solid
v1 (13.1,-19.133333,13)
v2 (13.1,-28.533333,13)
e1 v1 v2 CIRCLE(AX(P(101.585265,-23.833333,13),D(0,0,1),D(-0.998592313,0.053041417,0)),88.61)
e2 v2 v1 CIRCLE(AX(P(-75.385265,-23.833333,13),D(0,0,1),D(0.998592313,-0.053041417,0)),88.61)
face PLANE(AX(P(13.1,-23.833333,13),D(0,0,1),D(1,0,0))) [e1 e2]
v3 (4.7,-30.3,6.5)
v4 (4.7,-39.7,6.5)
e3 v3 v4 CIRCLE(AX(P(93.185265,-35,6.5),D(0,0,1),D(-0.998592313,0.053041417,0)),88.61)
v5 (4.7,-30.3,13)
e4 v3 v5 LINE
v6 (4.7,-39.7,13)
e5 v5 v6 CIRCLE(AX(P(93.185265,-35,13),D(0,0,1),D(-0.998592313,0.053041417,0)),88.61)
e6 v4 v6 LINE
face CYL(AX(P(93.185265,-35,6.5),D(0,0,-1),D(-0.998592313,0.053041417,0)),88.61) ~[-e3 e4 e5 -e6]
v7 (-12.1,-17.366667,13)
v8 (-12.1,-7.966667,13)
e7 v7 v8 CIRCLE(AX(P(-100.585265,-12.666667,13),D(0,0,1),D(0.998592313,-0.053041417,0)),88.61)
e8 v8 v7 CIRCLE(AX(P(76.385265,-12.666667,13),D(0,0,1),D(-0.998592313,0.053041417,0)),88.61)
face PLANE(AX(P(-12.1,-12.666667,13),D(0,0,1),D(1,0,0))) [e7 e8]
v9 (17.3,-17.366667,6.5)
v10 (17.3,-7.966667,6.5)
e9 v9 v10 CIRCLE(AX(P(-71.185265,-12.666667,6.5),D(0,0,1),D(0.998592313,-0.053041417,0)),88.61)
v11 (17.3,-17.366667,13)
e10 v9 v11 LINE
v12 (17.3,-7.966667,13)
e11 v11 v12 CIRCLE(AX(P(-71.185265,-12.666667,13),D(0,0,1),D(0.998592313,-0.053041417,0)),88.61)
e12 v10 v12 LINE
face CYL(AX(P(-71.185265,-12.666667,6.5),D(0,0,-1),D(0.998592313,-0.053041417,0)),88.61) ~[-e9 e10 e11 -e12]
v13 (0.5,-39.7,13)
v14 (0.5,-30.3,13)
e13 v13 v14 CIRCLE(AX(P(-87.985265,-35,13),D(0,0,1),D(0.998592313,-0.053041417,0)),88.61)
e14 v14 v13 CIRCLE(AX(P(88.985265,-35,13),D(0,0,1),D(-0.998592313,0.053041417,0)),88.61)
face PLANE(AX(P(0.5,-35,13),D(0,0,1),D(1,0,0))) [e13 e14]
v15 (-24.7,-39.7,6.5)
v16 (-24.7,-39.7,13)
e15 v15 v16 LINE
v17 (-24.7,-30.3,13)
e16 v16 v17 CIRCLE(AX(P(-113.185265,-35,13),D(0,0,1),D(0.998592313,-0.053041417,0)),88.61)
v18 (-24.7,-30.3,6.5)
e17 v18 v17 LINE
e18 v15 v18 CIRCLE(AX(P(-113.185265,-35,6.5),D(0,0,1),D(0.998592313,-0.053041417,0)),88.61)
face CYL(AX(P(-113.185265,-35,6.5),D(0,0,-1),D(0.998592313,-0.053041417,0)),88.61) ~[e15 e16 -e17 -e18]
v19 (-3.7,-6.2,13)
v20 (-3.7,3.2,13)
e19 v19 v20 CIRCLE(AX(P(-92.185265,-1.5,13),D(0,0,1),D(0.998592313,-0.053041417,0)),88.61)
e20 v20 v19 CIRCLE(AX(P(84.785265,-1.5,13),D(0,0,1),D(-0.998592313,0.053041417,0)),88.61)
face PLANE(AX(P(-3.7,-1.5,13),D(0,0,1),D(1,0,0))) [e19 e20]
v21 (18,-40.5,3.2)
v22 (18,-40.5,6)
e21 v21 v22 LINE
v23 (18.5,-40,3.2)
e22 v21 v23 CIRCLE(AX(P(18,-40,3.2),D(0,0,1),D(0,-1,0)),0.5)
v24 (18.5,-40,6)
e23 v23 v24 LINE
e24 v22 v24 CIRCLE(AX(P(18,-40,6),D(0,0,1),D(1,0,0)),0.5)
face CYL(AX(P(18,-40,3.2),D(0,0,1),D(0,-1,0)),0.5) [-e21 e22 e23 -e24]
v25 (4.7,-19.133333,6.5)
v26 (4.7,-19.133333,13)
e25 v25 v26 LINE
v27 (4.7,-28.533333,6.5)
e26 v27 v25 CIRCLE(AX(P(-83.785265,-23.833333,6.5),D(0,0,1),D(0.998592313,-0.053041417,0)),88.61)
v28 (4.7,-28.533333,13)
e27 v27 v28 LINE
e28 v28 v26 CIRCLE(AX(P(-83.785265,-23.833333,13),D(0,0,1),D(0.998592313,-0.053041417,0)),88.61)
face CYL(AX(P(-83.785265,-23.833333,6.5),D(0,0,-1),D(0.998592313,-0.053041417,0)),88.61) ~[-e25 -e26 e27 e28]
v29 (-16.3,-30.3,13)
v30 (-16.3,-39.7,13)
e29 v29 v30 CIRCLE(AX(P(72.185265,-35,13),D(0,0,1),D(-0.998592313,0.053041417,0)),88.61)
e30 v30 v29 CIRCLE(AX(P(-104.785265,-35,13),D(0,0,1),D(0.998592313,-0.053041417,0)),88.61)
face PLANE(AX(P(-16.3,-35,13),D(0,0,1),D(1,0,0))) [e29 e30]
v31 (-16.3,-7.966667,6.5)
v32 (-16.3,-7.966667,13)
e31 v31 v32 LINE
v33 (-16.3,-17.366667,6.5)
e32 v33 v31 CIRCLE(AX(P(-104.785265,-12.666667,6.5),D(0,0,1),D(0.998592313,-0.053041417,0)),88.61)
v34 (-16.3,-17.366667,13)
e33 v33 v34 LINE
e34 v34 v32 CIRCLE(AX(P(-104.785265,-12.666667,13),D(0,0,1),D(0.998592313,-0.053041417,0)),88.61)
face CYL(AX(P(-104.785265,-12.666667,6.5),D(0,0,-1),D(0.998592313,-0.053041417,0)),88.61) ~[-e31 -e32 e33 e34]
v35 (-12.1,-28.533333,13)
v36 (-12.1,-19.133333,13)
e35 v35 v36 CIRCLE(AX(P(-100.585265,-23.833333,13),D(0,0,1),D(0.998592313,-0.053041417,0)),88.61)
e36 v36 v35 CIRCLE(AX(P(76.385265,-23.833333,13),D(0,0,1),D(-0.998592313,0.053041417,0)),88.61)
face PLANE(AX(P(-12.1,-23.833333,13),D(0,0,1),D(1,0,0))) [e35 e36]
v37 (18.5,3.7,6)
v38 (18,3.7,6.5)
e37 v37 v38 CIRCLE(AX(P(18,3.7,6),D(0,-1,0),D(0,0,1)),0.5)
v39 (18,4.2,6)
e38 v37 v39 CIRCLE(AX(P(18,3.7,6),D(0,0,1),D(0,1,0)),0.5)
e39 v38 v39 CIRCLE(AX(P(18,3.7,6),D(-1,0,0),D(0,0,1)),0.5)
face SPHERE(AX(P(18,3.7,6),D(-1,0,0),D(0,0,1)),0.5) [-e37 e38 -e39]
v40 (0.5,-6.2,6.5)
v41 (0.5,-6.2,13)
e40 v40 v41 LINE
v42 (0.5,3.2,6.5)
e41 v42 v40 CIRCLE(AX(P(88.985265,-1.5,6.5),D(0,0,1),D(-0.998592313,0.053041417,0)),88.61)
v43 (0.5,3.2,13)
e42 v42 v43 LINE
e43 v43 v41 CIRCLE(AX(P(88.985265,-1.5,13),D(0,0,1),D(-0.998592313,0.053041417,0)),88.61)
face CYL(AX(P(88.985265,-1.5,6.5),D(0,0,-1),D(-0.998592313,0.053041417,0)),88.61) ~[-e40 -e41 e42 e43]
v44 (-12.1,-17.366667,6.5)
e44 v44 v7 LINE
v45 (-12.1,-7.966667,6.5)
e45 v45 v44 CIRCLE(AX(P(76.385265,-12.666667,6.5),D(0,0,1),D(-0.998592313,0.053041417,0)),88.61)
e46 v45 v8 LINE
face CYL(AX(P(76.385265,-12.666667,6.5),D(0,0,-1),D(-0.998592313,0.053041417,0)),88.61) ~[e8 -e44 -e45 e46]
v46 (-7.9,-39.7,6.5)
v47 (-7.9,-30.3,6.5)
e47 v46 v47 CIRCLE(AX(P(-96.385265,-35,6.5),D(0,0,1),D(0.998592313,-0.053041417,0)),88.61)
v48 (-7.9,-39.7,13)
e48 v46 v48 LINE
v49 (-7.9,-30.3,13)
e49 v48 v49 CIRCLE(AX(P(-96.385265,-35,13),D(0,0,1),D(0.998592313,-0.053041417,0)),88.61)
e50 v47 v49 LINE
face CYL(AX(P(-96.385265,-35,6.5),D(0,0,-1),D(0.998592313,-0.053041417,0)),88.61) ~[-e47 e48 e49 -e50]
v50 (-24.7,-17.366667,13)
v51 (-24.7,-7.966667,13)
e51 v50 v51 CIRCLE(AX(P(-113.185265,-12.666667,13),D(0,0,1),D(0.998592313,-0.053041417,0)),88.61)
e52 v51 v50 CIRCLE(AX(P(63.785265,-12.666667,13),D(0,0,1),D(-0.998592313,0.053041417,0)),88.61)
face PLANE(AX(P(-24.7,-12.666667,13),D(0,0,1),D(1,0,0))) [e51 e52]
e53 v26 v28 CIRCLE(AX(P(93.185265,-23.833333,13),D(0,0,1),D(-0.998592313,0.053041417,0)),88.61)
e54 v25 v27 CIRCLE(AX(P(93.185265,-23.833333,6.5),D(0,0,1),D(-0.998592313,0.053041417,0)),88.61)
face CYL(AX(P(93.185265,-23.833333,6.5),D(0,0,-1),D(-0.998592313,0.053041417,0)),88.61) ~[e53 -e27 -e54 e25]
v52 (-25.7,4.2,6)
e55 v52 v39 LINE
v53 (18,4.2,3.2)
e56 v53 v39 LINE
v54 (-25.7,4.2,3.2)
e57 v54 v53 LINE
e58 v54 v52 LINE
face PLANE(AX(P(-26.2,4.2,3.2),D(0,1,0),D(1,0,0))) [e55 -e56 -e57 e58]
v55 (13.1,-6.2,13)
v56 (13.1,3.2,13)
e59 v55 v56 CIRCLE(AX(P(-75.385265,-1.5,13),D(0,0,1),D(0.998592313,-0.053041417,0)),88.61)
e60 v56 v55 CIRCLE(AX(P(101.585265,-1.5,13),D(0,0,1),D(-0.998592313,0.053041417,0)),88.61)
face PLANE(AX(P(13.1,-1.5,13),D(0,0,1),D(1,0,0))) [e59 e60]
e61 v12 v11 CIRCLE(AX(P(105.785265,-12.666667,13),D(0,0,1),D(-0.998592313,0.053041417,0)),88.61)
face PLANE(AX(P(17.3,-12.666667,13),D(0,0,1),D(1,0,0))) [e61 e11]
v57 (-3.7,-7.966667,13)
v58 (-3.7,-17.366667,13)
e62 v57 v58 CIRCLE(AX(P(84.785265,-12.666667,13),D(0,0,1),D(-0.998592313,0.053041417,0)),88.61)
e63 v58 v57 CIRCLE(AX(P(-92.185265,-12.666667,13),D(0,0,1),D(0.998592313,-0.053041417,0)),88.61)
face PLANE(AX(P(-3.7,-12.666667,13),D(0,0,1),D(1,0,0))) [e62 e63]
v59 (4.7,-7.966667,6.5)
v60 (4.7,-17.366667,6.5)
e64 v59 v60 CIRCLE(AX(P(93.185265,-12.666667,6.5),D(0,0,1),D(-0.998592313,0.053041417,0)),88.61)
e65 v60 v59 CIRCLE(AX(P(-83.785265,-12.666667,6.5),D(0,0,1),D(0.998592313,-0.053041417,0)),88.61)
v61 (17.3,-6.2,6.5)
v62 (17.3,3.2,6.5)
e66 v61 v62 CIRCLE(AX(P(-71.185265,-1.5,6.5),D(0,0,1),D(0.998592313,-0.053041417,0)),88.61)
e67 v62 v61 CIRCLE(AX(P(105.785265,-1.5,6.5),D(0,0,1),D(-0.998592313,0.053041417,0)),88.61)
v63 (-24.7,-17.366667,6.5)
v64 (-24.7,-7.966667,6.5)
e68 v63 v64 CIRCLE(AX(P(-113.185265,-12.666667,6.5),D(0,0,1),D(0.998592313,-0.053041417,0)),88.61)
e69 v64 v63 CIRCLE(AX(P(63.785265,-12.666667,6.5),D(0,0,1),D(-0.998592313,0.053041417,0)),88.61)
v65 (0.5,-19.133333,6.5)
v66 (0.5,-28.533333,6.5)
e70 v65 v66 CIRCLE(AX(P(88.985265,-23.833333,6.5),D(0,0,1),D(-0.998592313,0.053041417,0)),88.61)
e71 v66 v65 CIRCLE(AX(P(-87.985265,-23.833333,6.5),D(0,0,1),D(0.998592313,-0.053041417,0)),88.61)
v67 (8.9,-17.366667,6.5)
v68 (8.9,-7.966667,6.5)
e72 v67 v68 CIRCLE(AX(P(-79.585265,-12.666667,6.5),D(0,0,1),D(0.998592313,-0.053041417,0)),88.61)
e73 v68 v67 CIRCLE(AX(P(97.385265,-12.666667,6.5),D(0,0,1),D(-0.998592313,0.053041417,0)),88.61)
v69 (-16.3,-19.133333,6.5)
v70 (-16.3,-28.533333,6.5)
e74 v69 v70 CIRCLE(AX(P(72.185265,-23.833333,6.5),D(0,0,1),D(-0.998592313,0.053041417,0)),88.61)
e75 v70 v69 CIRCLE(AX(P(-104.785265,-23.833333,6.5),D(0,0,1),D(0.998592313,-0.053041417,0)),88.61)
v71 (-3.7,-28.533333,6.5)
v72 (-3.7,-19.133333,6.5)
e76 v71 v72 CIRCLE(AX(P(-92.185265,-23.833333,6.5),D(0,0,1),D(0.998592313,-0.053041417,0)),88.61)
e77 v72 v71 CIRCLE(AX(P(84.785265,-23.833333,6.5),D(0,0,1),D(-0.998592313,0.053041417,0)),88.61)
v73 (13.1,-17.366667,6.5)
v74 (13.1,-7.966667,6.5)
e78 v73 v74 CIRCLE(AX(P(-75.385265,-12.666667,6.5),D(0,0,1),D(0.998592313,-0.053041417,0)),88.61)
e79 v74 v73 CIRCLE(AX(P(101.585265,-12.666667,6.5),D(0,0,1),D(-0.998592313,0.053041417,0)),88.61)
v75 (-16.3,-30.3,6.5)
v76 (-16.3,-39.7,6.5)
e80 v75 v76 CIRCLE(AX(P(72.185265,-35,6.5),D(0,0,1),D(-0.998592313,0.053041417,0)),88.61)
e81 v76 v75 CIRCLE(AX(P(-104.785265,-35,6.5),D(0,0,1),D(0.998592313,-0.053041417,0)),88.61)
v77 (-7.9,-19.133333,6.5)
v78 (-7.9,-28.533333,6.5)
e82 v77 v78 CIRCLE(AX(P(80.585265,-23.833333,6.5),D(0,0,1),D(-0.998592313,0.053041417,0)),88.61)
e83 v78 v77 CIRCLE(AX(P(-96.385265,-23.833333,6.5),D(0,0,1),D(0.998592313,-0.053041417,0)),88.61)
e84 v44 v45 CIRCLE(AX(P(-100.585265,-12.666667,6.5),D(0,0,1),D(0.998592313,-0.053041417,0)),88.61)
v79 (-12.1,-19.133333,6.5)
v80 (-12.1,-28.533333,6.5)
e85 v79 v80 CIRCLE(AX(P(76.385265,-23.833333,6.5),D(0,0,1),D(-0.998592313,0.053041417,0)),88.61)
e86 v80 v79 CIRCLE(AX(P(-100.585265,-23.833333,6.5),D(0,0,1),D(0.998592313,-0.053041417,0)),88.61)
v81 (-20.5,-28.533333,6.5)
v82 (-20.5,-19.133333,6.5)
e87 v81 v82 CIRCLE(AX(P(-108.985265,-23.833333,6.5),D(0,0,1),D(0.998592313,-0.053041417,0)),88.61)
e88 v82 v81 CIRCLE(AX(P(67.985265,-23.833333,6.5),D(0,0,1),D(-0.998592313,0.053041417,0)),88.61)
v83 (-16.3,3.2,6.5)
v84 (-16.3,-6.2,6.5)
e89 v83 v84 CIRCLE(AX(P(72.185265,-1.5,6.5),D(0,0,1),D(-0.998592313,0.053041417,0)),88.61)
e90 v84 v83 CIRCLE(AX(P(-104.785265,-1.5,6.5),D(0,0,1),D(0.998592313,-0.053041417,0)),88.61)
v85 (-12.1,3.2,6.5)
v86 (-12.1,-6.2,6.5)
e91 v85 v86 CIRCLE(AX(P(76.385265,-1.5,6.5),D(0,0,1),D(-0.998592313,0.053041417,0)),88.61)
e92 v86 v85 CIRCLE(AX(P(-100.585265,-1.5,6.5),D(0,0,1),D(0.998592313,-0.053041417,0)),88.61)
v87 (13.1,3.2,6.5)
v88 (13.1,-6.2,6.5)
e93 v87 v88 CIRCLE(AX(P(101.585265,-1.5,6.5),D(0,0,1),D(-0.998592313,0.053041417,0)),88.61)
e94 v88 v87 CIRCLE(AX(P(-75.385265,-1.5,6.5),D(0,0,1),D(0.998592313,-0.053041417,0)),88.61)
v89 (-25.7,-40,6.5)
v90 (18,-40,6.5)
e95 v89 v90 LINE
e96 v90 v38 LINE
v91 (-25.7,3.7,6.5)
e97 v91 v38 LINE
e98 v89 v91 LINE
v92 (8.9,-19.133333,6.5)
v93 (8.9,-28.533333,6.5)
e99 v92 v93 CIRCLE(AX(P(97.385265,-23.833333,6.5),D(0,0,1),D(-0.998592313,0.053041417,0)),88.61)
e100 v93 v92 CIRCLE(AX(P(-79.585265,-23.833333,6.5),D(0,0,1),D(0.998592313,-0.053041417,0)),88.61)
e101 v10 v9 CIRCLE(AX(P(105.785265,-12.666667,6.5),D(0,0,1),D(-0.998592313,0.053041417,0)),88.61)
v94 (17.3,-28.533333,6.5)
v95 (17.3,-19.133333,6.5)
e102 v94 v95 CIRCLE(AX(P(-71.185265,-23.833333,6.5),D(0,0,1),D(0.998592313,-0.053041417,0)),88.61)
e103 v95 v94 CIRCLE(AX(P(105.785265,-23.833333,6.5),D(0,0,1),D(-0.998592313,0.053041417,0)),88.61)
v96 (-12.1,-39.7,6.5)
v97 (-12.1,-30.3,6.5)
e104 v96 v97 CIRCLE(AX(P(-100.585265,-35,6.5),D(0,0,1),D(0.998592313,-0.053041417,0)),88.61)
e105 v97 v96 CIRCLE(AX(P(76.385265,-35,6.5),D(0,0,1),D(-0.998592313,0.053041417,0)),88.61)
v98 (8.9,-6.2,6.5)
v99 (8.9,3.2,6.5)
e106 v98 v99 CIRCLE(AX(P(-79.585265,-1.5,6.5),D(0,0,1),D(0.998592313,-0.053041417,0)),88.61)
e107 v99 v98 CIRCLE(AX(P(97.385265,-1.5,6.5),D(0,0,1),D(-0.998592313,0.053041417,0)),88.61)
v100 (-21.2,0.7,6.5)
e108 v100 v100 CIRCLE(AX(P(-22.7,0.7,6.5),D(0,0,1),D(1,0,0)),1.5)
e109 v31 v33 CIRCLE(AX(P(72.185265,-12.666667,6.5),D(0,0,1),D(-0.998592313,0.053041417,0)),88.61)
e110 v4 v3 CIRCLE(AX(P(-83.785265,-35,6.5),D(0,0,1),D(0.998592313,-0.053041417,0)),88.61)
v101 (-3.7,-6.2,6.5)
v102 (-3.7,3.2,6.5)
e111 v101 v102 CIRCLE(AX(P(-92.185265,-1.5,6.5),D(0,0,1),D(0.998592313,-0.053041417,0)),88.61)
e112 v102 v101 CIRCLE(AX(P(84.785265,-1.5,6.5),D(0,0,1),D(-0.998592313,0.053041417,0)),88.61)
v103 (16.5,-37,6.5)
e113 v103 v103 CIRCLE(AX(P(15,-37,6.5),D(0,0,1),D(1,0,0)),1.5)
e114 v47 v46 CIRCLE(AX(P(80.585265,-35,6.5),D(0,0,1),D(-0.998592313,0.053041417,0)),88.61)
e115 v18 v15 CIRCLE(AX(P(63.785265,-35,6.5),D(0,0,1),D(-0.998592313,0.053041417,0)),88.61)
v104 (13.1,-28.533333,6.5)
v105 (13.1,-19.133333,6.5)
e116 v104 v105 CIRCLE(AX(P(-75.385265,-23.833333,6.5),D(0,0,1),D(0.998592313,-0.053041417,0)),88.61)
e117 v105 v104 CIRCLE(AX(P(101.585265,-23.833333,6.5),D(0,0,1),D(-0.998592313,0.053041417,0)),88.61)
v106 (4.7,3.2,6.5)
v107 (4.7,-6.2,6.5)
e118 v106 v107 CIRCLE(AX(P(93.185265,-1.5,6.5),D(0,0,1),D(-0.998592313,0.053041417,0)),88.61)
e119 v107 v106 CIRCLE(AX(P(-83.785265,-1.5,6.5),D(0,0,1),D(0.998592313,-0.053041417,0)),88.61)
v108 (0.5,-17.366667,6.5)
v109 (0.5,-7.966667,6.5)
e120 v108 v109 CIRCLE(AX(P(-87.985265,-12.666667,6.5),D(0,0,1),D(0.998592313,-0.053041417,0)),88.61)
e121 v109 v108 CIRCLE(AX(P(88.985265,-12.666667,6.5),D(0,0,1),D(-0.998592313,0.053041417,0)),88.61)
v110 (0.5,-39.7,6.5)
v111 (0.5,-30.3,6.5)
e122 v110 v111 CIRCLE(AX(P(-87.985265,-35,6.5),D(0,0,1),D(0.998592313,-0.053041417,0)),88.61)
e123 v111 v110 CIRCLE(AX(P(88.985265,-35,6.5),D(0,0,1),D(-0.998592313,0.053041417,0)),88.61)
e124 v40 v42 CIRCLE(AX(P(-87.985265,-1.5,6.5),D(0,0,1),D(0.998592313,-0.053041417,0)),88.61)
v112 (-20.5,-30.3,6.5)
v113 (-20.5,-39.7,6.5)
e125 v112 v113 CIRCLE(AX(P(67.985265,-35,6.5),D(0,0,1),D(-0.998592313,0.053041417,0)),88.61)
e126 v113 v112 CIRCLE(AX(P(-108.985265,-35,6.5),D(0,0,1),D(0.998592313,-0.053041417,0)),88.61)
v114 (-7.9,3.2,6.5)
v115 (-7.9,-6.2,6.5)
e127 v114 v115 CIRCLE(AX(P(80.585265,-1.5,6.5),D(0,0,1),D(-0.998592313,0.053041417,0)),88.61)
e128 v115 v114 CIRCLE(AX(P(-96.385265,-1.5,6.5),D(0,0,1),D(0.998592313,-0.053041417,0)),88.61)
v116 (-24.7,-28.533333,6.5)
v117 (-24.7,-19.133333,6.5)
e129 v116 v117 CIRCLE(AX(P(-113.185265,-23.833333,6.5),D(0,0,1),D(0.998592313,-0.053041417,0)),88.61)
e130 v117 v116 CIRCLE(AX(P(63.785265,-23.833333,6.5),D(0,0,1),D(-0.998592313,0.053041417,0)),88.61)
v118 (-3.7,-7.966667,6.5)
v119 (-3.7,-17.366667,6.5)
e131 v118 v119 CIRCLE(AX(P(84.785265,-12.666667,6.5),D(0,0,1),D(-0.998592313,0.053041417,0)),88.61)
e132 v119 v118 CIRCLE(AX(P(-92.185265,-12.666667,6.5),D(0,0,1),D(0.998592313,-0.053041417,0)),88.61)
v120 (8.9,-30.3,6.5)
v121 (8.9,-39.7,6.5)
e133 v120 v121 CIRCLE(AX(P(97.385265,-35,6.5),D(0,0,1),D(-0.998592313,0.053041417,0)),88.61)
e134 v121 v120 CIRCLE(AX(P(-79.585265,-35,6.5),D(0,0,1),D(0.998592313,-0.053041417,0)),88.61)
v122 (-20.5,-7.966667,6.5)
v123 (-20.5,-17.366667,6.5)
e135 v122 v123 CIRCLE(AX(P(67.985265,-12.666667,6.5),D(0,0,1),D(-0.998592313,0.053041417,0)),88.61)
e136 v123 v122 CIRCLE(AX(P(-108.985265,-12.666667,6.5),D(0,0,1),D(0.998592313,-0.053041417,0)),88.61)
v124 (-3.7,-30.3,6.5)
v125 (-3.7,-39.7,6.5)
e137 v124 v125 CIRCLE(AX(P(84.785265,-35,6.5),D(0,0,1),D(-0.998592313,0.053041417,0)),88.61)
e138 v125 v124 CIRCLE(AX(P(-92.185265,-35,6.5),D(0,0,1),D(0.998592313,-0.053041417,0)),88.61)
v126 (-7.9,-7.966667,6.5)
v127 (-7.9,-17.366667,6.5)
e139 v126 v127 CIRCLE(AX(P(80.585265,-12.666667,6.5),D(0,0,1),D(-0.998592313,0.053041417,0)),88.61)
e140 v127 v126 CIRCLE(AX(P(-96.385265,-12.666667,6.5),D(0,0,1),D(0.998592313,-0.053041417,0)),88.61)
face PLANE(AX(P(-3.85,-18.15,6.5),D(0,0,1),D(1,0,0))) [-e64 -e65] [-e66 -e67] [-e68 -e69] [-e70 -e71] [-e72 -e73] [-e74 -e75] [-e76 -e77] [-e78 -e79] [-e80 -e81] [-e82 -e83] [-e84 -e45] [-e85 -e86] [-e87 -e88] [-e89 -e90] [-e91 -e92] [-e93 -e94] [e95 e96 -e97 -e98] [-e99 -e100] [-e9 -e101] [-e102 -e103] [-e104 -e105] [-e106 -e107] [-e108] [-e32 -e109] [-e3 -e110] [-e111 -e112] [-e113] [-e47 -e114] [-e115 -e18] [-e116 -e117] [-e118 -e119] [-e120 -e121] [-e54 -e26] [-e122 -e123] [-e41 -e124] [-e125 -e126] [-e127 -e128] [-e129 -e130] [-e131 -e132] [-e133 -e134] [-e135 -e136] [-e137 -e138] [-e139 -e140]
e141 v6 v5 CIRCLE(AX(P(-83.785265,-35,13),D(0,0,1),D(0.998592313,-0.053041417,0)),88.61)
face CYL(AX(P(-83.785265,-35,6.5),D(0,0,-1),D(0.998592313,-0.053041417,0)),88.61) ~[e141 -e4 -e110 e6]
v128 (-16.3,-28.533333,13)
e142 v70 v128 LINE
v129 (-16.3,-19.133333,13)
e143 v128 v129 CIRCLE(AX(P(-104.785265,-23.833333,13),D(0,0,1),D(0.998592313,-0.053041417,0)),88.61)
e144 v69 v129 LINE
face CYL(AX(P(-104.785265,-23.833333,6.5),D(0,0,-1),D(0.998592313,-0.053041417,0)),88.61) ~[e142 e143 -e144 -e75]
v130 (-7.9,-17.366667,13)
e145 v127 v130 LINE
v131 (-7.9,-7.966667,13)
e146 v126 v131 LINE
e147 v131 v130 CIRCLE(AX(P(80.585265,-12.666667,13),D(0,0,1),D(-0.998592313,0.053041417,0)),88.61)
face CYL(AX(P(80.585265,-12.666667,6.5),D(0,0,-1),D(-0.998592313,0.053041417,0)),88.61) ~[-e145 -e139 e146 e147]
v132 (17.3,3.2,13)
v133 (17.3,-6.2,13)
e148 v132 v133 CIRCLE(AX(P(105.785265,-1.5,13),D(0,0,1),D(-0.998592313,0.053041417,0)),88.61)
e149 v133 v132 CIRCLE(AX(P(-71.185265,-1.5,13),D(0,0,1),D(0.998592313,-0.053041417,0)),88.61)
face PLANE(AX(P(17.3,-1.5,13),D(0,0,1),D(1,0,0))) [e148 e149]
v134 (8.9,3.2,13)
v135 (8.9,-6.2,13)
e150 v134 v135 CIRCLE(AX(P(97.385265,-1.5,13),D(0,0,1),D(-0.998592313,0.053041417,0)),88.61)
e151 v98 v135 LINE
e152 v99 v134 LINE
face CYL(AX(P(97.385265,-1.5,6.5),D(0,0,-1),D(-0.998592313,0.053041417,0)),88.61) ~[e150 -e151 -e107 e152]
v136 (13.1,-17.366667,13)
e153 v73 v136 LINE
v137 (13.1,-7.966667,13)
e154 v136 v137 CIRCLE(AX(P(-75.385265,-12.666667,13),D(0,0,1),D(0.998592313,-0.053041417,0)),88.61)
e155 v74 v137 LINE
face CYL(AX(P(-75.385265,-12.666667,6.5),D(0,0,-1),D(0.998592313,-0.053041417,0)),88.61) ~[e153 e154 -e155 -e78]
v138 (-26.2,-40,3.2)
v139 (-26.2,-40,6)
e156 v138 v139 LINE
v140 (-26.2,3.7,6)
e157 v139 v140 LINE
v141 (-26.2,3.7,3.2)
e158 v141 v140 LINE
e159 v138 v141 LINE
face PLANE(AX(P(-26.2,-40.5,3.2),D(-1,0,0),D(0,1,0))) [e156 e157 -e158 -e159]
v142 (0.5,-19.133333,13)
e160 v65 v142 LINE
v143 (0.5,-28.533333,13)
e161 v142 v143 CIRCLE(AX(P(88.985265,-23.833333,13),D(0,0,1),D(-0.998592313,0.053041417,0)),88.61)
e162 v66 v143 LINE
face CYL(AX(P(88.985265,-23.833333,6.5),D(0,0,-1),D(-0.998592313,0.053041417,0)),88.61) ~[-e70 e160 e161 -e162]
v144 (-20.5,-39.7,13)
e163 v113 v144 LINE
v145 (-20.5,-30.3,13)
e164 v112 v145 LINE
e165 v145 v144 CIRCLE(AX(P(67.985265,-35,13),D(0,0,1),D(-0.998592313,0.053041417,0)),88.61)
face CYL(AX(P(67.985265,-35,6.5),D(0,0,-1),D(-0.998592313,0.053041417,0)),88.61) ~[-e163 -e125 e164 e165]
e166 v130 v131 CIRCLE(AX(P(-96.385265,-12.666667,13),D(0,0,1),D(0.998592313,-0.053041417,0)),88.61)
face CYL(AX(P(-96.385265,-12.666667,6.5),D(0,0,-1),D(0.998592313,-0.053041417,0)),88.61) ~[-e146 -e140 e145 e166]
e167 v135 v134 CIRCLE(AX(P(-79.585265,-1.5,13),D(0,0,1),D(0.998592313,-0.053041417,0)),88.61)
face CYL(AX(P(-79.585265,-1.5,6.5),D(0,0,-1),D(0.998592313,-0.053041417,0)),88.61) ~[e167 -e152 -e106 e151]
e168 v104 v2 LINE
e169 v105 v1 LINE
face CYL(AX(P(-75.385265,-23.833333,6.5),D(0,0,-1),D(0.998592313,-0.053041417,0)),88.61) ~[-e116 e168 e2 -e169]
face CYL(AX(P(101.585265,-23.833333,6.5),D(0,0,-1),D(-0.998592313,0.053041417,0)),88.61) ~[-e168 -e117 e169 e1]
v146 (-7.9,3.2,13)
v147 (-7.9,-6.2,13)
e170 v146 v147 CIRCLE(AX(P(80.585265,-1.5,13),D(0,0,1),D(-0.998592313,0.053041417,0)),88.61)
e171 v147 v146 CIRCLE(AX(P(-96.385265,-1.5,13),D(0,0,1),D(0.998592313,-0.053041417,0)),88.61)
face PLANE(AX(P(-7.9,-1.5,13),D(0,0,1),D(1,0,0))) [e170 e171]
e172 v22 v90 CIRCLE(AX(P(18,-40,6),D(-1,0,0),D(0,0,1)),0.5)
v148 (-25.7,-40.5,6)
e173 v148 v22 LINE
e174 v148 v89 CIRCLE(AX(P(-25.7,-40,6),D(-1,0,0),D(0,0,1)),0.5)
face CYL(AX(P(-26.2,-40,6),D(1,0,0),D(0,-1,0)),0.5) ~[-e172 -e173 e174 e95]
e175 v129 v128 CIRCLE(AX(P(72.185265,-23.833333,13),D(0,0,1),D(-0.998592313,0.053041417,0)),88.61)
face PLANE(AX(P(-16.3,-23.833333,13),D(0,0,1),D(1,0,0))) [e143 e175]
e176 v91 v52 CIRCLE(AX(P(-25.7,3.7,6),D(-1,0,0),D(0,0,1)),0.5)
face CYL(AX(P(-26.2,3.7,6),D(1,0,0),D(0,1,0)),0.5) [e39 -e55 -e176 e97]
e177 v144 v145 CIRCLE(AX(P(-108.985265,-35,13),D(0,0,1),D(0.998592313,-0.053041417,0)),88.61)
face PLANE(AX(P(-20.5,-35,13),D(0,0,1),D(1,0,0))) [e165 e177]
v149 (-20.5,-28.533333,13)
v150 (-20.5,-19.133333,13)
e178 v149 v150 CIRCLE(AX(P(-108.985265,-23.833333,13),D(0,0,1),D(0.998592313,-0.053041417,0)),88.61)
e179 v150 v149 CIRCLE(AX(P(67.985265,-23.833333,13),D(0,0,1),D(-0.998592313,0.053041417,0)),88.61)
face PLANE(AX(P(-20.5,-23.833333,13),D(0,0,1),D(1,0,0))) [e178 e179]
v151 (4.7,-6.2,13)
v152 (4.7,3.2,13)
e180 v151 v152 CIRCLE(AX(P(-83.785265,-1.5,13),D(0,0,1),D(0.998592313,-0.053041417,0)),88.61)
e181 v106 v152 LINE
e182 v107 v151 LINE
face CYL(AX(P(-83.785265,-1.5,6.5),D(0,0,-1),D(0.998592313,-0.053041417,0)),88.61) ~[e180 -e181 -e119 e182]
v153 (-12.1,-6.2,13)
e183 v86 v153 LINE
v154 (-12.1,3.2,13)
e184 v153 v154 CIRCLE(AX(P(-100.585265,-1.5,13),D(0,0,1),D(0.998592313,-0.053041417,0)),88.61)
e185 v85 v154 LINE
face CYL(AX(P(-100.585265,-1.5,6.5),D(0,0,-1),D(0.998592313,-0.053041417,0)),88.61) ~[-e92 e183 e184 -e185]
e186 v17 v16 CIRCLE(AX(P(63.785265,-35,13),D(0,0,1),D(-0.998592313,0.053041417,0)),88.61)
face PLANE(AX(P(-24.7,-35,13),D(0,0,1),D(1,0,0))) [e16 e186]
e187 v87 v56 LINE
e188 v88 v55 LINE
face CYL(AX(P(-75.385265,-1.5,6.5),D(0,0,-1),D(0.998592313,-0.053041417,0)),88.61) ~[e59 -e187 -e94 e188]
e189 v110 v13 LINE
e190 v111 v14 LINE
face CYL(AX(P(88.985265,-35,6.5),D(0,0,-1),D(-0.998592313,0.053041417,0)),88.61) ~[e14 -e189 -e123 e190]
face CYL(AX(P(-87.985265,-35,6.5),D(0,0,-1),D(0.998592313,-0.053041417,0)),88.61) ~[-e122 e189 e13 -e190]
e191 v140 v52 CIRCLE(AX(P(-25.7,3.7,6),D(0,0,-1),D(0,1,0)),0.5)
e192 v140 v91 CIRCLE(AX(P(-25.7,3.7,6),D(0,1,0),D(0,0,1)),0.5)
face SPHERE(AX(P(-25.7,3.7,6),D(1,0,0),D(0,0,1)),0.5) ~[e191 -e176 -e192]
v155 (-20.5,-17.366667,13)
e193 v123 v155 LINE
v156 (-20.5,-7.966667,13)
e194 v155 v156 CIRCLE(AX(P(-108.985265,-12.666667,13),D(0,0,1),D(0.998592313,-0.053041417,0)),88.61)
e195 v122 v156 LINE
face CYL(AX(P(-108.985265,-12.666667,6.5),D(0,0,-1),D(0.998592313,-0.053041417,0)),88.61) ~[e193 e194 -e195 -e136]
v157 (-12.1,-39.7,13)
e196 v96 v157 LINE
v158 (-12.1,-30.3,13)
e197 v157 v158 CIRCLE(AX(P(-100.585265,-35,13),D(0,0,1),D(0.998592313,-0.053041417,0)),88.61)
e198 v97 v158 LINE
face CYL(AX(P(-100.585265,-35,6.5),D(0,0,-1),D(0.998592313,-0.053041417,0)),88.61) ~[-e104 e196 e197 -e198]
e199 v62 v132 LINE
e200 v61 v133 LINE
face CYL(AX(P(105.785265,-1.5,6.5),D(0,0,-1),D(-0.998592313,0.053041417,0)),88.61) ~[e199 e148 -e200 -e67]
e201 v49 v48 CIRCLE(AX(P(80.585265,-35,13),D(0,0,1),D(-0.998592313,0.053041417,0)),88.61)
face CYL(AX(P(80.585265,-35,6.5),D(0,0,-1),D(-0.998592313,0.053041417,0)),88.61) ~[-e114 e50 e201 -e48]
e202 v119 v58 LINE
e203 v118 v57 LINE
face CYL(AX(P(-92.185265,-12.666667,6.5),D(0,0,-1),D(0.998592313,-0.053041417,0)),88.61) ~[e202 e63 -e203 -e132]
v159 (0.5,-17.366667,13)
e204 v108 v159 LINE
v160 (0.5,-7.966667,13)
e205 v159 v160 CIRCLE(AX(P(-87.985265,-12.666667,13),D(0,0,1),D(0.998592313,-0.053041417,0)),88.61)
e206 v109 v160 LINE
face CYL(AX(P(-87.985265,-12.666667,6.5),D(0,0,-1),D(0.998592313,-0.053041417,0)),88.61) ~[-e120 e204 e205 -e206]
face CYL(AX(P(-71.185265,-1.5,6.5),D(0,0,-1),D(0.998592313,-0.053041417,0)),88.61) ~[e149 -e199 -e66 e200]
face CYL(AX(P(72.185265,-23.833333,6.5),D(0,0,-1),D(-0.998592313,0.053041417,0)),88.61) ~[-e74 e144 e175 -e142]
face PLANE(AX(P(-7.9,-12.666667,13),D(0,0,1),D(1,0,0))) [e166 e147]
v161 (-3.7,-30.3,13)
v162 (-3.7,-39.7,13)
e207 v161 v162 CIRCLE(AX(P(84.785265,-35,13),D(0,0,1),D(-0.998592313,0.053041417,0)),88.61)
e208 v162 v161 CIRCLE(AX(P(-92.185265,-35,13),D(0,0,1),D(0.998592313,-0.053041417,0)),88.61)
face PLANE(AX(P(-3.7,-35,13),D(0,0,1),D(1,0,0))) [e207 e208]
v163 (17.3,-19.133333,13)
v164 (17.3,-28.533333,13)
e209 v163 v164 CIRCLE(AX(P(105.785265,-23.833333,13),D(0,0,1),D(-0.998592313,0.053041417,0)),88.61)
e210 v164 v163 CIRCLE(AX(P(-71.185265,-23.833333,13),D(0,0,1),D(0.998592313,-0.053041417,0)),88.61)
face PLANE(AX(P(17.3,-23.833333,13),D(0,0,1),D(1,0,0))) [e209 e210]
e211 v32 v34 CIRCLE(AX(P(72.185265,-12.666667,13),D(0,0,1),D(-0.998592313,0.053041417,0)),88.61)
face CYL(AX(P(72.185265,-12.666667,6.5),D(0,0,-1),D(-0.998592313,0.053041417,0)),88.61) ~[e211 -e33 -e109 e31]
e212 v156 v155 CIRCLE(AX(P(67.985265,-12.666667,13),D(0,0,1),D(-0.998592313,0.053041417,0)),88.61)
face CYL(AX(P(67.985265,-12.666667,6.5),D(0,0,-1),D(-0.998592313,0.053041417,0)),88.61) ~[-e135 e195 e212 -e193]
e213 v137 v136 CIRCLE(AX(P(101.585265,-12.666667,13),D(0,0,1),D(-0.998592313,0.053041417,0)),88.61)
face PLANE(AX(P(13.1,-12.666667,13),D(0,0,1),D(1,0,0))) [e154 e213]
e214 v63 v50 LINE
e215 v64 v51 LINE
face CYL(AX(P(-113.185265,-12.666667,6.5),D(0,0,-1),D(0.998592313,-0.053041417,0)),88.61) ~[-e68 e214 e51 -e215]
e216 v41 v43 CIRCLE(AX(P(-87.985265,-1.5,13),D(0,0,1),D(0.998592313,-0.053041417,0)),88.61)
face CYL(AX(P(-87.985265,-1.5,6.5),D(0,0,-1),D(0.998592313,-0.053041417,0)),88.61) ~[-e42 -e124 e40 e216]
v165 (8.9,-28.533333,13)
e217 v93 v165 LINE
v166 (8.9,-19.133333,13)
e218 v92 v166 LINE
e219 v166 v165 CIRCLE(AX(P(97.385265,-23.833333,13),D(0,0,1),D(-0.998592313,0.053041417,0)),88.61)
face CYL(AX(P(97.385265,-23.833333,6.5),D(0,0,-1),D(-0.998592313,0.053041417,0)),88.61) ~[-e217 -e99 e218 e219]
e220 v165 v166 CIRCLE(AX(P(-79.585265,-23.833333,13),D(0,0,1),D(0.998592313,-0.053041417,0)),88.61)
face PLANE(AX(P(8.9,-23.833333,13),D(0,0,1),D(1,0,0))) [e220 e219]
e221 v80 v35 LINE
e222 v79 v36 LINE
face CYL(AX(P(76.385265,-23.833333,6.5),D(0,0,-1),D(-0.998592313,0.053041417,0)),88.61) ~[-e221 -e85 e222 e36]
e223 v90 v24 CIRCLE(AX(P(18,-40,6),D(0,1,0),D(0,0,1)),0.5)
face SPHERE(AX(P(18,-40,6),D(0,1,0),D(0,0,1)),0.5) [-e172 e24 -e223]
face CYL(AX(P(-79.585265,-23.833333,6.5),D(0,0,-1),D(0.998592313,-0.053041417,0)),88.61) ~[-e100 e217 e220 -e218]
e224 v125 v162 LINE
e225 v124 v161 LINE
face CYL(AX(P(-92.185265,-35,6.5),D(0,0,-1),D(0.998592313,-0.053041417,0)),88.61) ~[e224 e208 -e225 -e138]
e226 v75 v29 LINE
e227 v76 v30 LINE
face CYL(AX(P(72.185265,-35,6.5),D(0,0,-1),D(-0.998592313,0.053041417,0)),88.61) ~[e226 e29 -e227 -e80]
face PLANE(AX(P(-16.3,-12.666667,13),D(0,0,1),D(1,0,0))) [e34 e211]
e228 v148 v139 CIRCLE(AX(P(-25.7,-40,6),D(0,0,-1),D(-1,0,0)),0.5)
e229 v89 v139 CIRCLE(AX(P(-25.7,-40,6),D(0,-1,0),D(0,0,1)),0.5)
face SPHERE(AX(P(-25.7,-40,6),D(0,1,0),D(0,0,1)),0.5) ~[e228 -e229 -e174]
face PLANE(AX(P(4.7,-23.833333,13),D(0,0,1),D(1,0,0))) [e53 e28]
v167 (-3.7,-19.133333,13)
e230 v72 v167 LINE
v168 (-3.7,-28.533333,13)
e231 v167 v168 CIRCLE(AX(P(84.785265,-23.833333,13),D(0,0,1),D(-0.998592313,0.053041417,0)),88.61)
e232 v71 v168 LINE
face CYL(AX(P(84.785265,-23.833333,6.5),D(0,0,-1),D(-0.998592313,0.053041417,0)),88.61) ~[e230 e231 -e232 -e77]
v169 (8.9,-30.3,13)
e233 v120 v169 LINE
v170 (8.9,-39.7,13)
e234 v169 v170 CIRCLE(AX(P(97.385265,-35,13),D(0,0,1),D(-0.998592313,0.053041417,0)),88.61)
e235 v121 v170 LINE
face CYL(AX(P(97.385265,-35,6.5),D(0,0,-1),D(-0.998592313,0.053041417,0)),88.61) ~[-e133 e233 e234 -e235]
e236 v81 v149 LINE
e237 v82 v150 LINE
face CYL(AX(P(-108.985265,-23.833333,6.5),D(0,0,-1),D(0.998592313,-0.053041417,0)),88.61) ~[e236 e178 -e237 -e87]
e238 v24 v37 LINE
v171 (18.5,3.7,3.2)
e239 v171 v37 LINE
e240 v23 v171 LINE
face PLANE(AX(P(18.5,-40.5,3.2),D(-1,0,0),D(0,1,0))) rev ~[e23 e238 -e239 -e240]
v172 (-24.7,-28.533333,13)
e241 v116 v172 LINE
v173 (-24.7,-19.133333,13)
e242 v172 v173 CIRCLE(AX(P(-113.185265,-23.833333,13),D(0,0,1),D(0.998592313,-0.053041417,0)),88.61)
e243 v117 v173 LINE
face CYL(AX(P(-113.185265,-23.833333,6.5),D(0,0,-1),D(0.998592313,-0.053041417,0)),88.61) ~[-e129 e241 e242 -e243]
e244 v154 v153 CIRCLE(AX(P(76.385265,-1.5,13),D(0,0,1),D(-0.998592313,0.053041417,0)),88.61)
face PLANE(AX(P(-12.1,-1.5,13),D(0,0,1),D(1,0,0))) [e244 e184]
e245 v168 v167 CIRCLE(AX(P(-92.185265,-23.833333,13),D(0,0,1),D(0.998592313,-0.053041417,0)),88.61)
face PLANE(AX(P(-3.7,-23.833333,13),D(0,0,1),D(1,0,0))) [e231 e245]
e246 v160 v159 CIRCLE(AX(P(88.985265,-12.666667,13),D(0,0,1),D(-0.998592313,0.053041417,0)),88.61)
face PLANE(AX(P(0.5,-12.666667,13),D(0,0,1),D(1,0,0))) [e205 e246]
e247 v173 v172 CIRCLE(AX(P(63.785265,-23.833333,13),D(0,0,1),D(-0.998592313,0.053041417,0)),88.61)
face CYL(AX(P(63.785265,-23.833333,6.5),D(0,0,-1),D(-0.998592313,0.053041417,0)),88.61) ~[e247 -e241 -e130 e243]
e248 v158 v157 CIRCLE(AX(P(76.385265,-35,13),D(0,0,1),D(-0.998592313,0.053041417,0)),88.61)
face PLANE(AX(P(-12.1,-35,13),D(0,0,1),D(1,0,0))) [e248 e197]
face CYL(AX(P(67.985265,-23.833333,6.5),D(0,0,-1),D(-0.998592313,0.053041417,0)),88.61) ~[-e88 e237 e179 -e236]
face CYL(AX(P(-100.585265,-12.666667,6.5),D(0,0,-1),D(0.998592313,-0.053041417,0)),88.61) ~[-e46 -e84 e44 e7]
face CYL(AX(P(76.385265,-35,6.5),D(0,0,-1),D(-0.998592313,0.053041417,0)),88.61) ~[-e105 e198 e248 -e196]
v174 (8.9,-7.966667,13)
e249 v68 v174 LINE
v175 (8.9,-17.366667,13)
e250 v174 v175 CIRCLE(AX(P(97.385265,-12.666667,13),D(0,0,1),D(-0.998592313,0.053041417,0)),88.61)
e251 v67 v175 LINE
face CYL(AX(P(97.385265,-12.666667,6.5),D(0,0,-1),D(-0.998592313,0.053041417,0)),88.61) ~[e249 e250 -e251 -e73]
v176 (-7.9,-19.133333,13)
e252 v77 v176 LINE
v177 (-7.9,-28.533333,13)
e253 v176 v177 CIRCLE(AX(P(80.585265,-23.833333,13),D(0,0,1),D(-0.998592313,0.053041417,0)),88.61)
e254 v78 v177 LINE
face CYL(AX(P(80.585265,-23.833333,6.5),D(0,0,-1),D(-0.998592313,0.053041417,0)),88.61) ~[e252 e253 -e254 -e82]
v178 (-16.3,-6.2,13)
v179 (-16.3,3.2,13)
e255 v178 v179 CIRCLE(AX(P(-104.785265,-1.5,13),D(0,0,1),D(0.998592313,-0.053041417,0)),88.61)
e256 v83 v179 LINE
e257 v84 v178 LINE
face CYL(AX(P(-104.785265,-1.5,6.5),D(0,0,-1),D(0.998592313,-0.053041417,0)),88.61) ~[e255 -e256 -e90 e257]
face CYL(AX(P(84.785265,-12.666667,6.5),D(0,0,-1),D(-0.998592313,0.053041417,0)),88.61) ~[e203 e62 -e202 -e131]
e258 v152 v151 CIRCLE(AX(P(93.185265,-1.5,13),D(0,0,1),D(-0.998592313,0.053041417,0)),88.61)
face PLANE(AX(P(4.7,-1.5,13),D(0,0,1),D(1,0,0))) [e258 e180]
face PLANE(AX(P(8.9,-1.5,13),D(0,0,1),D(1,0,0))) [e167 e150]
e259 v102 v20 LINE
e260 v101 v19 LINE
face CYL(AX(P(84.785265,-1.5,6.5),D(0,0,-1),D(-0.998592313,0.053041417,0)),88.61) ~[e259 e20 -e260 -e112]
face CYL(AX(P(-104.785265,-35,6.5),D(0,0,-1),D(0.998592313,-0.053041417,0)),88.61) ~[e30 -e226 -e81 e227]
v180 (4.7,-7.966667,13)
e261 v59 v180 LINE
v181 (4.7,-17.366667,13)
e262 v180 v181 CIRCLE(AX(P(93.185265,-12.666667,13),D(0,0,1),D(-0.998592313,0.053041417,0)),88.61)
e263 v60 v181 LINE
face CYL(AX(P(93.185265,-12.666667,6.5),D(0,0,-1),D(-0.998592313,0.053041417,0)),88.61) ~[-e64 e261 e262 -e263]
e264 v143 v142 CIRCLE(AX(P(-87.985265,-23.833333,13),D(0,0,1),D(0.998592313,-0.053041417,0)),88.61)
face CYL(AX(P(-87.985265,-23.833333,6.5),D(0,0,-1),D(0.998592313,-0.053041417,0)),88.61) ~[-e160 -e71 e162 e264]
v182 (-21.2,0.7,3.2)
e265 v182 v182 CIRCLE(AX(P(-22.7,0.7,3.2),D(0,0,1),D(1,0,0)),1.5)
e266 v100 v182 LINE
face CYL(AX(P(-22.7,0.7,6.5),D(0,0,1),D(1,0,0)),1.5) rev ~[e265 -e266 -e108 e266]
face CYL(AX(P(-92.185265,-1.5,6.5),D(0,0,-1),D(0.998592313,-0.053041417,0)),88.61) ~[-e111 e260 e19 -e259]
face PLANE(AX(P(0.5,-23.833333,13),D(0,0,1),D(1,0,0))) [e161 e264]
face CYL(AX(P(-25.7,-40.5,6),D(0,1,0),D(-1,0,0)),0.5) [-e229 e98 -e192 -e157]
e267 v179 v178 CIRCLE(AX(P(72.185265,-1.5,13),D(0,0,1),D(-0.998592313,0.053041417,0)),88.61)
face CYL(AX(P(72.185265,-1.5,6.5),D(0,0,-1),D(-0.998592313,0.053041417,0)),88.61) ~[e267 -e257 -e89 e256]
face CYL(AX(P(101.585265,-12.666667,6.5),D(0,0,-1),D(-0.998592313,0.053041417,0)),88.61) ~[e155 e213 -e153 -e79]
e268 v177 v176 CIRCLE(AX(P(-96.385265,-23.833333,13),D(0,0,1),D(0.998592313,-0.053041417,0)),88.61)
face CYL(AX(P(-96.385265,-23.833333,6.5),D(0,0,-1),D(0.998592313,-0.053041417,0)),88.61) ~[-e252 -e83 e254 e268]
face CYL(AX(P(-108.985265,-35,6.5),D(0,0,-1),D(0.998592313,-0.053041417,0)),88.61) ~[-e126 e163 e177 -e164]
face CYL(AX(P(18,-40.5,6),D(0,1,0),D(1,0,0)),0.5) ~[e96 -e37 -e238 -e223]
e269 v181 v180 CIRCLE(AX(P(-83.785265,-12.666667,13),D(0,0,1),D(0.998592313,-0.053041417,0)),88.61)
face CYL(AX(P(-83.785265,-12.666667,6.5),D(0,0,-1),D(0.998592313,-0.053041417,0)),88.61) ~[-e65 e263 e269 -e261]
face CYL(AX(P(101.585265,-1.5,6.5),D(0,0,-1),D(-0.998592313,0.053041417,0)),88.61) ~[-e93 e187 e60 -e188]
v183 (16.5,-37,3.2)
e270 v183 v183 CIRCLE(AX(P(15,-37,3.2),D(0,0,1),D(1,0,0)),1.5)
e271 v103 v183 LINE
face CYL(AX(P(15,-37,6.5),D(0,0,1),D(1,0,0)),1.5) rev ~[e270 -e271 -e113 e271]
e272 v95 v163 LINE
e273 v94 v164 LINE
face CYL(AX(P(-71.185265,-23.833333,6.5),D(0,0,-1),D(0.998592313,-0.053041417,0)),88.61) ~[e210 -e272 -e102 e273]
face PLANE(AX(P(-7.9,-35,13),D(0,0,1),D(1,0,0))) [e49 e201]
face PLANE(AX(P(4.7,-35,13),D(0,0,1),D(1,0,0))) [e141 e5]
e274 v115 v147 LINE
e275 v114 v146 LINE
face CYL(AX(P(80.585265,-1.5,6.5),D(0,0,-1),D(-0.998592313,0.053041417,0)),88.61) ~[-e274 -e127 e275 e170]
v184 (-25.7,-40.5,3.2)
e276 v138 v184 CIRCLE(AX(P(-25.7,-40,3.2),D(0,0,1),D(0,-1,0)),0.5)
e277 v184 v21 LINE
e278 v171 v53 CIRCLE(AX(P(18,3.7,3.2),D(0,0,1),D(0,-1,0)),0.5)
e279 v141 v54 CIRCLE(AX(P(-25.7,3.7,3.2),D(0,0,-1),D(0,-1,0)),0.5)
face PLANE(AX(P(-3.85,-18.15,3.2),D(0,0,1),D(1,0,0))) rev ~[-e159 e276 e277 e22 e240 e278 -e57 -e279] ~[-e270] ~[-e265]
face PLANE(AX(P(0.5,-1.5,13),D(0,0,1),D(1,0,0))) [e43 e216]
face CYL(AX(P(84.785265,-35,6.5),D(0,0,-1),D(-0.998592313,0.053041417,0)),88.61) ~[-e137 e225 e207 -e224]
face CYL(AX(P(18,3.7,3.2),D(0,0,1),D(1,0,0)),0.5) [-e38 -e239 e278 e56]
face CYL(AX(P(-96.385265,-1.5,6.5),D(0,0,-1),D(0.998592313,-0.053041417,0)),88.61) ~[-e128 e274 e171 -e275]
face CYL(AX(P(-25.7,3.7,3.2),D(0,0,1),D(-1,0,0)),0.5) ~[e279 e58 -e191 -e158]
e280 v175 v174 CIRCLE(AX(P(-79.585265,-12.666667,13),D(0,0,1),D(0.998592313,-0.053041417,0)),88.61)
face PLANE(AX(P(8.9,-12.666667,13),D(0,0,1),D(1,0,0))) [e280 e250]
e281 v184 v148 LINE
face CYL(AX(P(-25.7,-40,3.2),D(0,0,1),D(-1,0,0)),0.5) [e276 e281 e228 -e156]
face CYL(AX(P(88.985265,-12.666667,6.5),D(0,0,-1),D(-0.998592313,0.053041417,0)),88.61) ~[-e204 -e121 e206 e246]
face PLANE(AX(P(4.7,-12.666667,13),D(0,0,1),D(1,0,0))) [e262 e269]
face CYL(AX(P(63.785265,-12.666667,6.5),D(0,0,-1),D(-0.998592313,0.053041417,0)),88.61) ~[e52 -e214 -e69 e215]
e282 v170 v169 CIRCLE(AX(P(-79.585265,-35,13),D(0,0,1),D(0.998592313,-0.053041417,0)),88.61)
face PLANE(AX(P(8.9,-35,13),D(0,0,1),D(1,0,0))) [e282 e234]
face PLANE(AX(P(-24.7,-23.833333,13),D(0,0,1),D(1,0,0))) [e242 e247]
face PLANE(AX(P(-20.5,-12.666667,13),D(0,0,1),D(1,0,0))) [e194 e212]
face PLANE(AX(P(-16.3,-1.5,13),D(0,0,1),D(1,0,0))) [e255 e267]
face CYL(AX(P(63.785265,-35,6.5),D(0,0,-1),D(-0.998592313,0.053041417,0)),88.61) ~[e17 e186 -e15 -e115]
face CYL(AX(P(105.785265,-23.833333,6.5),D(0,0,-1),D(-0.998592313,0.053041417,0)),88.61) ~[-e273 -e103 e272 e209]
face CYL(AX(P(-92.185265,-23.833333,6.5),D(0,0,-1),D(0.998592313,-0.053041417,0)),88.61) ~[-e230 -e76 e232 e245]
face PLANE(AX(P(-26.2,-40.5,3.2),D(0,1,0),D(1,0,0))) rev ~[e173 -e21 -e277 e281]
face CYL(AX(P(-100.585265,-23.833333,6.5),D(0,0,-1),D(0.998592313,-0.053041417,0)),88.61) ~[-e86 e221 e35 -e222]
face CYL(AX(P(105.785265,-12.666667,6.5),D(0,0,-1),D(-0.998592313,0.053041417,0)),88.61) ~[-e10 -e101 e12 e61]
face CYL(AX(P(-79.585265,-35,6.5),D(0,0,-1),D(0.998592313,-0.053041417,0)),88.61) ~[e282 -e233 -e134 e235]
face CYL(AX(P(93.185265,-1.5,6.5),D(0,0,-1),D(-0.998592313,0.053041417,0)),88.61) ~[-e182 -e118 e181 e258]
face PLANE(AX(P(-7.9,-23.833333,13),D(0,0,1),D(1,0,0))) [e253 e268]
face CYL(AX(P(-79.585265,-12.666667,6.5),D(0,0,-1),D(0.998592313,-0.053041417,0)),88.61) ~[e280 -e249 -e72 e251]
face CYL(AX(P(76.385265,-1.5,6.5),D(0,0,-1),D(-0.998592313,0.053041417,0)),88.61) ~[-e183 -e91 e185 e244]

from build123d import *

# Parameters (mm, degrees)
SKETCH011_W                   = 44.7
SKETCH011_H                   = 44.7
PAD006_DEPTH                  = 3.3
FILLET001_R                   = 0.5
PAD007_DEPTH                  = 6.5
PAD007_LINEARPATTERN_2_DEPTH  = 6.5
PAD007_LINEARPATTERN_3_DEPTH  = 6.5
PAD007_LINEARPATTERN_4_DEPTH  = 6.5
PAD007_LINEARPATTERN_5_DEPTH  = 6.5
PAD007_LINEARPATTERN_6_DEPTH  = 6.5
PAD007_LINEARPATTERN_7_DEPTH  = 6.5
PAD007_LINEARPATTERN_8_DEPTH  = 6.5
PAD007_LINEARPATTERN_9_DEPTH  = 6.5
PAD007_LINEARPATTERN_10_DEPTH = 6.5
PAD007_LINEARPATTERN_11_DEPTH = 6.5
LINEARPATTERN001_COUNT        = 4
LINEARPATTERN001_PITCH        = 11.1666666667
SKETCH013_W                   = 4.44947025
SKETCH013_H                   = 9.881485
POCKET006_DEPTH               = 6.5
SKETCH014_W                   = 4.44947025
SKETCH014_H                   = 9.4
POCKET007_DEPTH               = 6.5
SKETCH015_R                   = 1.5
POCKET008_DEPTH               = 3.301


with BuildPart() as part:
    # Sketch011 → Pad006 (new body)
    with BuildSketch(Plane.XY):
        with Locations((-3.85, -18.15)):
            Rectangle(SKETCH011_W, SKETCH011_H)
    extrude(amount=PAD006_DEPTH)

    # Fillet001
    fillet001_edges = [part.edges().sort_by_distance(p)[0] for p in [
        (-3.85, 4.2, 3.3),
        (-26.2, -18.15, 3.3),
        (18.5, -18.15, 3.3),
        (-3.85, -40.5, 3.3),
        (-26.2, 4.2, 1.65),
        (-26.2, -40.5, 1.65),
        (18.5, 4.2, 1.65),
        (18.5, -40.5, 1.65),
    ]]
    fillet(fillet001_edges, radius=FILLET001_R)

    # Sketch012 (on Face13 of Fillet001) → Pad007 (join)
    with BuildSketch(Plane.XY.offset(3.3)):
        with BuildLine():
            ThreePointArc((-24.7, -6.2), (-24.575264875, -1.5), (-24.7, 3.2))
            ThreePointArc((-24.7, 3.2), (-24.824735125, -1.5), (-24.7, -6.2))
        make_face()
    pad007 = extrude(amount=PAD007_DEPTH)

    # Sketch012 LinearPattern 2 → Pad007 LinearPattern 2 (add)
    with BuildSketch(Plane(origin=(4.2, 0, 3.3), x_dir=(1, 0, 0), z_dir=(0, 0, 1))):
        with BuildLine():
            ThreePointArc((-24.7, -6.2), (-24.575264875, -1.5), (-24.7, 3.2))
            ThreePointArc((-24.7, 3.2), (-24.824735125, -1.5), (-24.7, -6.2))
        make_face()
    pad007_linearpattern_2 = extrude(amount=PAD007_LINEARPATTERN_2_DEPTH)

    # Sketch012 LinearPattern 3 → Pad007 LinearPattern 3 (add)
    with BuildSketch(Plane(origin=(8.4, 0, 3.3), x_dir=(1, 0, 0), z_dir=(0, 0, 1))):
        with BuildLine():
            ThreePointArc((-24.7, -6.2), (-24.575264875, -1.5), (-24.7, 3.2))
            ThreePointArc((-24.7, 3.2), (-24.824735125, -1.5), (-24.7, -6.2))
        make_face()
    pad007_linearpattern_3 = extrude(amount=PAD007_LINEARPATTERN_3_DEPTH)

    # Sketch012 LinearPattern 4 → Pad007 LinearPattern 4 (add)
    with BuildSketch(Plane(origin=(12.6, 0, 3.3), x_dir=(1, 0, 0), z_dir=(0, 0, 1))):
        with BuildLine():
            ThreePointArc((-24.7, -6.2), (-24.575264875, -1.5), (-24.7, 3.2))
            ThreePointArc((-24.7, 3.2), (-24.824735125, -1.5), (-24.7, -6.2))
        make_face()
    pad007_linearpattern_4 = extrude(amount=PAD007_LINEARPATTERN_4_DEPTH)

    # Sketch012 LinearPattern 5 → Pad007 LinearPattern 5 (add)
    with BuildSketch(Plane(origin=(16.8, 0, 3.3), x_dir=(1, 0, 0), z_dir=(0, 0, 1))):
        with BuildLine():
            ThreePointArc((-24.7, -6.2), (-24.575264875, -1.5), (-24.7, 3.2))
            ThreePointArc((-24.7, 3.2), (-24.824735125, -1.5), (-24.7, -6.2))
        make_face()
    pad007_linearpattern_5 = extrude(amount=PAD007_LINEARPATTERN_5_DEPTH)

    # Sketch012 LinearPattern 6 → Pad007 LinearPattern 6 (add)
    with BuildSketch(Plane(origin=(21, 0, 3.3), x_dir=(1, 0, 0), z_dir=(0, 0, 1))):
        with BuildLine():
            ThreePointArc((-24.7, -6.2), (-24.575264875, -1.5), (-24.7, 3.2))
            ThreePointArc((-24.7, 3.2), (-24.824735125, -1.5), (-24.7, -6.2))
        make_face()
    pad007_linearpattern_6 = extrude(amount=PAD007_LINEARPATTERN_6_DEPTH)

    # Sketch012 LinearPattern 7 → Pad007 LinearPattern 7 (add)
    with BuildSketch(Plane(origin=(25.2, 0, 3.3), x_dir=(1, 0, 0), z_dir=(0, 0, 1))):
        with BuildLine():
            ThreePointArc((-24.7, -6.2), (-24.575264875, -1.5), (-24.7, 3.2))
            ThreePointArc((-24.7, 3.2), (-24.824735125, -1.5), (-24.7, -6.2))
        make_face()
    pad007_linearpattern_7 = extrude(amount=PAD007_LINEARPATTERN_7_DEPTH)

    # Sketch012 LinearPattern 8 → Pad007 LinearPattern 8 (add)
    with BuildSketch(Plane(origin=(29.4, 0, 3.3), x_dir=(1, 0, 0), z_dir=(0, 0, 1))):
        with BuildLine():
            ThreePointArc((-24.7, -6.2), (-24.575264875, -1.5), (-24.7, 3.2))
            ThreePointArc((-24.7, 3.2), (-24.824735125, -1.5), (-24.7, -6.2))
        make_face()
    pad007_linearpattern_8 = extrude(amount=PAD007_LINEARPATTERN_8_DEPTH)

    # Sketch012 LinearPattern 9 → Pad007 LinearPattern 9 (add)
    with BuildSketch(Plane(origin=(33.6, 0, 3.3), x_dir=(1, 0, 0), z_dir=(0, 0, 1))):
        with BuildLine():
            ThreePointArc((-24.7, -6.2), (-24.575264875, -1.5), (-24.7, 3.2))
            ThreePointArc((-24.7, 3.2), (-24.824735125, -1.5), (-24.7, -6.2))
        make_face()
    pad007_linearpattern_9 = extrude(amount=PAD007_LINEARPATTERN_9_DEPTH)

    # Sketch012 LinearPattern 10 → Pad007 LinearPattern 10 (add)
    with BuildSketch(Plane(origin=(37.8, 0, 3.3), x_dir=(1, 0, 0), z_dir=(0, 0, 1))):
        with BuildLine():
            ThreePointArc((-24.7, -6.2), (-24.575264875, -1.5), (-24.7, 3.2))
            ThreePointArc((-24.7, 3.2), (-24.824735125, -1.5), (-24.7, -6.2))
        make_face()
    pad007_linearpattern_10 = extrude(amount=PAD007_LINEARPATTERN_10_DEPTH)

    # Sketch012 LinearPattern 11 → Pad007 LinearPattern 11 (add)
    with BuildSketch(Plane(origin=(42, 0, 3.3), x_dir=(1, 0, 0), z_dir=(0, 0, 1))):
        with BuildLine():
            ThreePointArc((-24.7, -6.2), (-24.575264875, -1.5), (-24.7, 3.2))
            ThreePointArc((-24.7, 3.2), (-24.824735125, -1.5), (-24.7, -6.2))
        make_face()
    pad007_linearpattern_11 = extrude(amount=PAD007_LINEARPATTERN_11_DEPTH)

    # LinearPattern001: Pad007, Pad007 LinearPattern 2, Pad007 LinearPattern 3, Pad007 LinearPattern 4, Pad007 LinearPattern 5, Pad007 LinearPattern 6, Pad007 LinearPattern 7, Pad007 LinearPattern 8, Pad007 LinearPattern 9, Pad007 LinearPattern 10, Pad007 LinearPattern 11 ×4
    with Locations(*[(0, -i * LINEARPATTERN001_PITCH, 0) for i in range(1, LINEARPATTERN001_COUNT)]):
        add(pad007)
        add(pad007_linearpattern_2)
        add(pad007_linearpattern_3)
        add(pad007_linearpattern_4)
        add(pad007_linearpattern_5)
        add(pad007_linearpattern_6)
        add(pad007_linearpattern_7)
        add(pad007_linearpattern_8)
        add(pad007_linearpattern_9)
        add(pad007_linearpattern_10)
        add(pad007_linearpattern_11)

    # Sketch013 (on Face147 of MultiTransform001) → Pocket006 (cut)
    with BuildSketch(Plane.XY.offset(9.8)):
        with Locations((-22.6, -1.7407425)):
            Rectangle(SKETCH013_W, SKETCH013_H)
    extrude(amount=-POCKET006_DEPTH, mode=Mode.SUBTRACT)

    # Sketch014 (on Face125 of Pocket006) → Pocket007 (cut)
    with BuildSketch(Plane.XY.offset(9.8)):
        with Locations((15.2, -35)):
            Rectangle(SKETCH014_W, SKETCH014_H)
    extrude(amount=-POCKET007_DEPTH, mode=Mode.SUBTRACT)

    # Sketch015 (on Face13 of Pocket007) → Pocket008 (cut, through all)
    with BuildSketch(Plane.XY.offset(3.3)):
        with Locations((-22.7, 0.7)):
            Circle(SKETCH015_R)
        with Locations((15, -37)):
            Circle(SKETCH015_R)
    extrude(amount=-POCKET008_DEPTH, mode=Mode.SUBTRACT)


with BuildPart() as part_1:
    # Body002 placement: moved
    add(part.part.moved(Location((0, 0, 3.2))))


solid = part_1.part
